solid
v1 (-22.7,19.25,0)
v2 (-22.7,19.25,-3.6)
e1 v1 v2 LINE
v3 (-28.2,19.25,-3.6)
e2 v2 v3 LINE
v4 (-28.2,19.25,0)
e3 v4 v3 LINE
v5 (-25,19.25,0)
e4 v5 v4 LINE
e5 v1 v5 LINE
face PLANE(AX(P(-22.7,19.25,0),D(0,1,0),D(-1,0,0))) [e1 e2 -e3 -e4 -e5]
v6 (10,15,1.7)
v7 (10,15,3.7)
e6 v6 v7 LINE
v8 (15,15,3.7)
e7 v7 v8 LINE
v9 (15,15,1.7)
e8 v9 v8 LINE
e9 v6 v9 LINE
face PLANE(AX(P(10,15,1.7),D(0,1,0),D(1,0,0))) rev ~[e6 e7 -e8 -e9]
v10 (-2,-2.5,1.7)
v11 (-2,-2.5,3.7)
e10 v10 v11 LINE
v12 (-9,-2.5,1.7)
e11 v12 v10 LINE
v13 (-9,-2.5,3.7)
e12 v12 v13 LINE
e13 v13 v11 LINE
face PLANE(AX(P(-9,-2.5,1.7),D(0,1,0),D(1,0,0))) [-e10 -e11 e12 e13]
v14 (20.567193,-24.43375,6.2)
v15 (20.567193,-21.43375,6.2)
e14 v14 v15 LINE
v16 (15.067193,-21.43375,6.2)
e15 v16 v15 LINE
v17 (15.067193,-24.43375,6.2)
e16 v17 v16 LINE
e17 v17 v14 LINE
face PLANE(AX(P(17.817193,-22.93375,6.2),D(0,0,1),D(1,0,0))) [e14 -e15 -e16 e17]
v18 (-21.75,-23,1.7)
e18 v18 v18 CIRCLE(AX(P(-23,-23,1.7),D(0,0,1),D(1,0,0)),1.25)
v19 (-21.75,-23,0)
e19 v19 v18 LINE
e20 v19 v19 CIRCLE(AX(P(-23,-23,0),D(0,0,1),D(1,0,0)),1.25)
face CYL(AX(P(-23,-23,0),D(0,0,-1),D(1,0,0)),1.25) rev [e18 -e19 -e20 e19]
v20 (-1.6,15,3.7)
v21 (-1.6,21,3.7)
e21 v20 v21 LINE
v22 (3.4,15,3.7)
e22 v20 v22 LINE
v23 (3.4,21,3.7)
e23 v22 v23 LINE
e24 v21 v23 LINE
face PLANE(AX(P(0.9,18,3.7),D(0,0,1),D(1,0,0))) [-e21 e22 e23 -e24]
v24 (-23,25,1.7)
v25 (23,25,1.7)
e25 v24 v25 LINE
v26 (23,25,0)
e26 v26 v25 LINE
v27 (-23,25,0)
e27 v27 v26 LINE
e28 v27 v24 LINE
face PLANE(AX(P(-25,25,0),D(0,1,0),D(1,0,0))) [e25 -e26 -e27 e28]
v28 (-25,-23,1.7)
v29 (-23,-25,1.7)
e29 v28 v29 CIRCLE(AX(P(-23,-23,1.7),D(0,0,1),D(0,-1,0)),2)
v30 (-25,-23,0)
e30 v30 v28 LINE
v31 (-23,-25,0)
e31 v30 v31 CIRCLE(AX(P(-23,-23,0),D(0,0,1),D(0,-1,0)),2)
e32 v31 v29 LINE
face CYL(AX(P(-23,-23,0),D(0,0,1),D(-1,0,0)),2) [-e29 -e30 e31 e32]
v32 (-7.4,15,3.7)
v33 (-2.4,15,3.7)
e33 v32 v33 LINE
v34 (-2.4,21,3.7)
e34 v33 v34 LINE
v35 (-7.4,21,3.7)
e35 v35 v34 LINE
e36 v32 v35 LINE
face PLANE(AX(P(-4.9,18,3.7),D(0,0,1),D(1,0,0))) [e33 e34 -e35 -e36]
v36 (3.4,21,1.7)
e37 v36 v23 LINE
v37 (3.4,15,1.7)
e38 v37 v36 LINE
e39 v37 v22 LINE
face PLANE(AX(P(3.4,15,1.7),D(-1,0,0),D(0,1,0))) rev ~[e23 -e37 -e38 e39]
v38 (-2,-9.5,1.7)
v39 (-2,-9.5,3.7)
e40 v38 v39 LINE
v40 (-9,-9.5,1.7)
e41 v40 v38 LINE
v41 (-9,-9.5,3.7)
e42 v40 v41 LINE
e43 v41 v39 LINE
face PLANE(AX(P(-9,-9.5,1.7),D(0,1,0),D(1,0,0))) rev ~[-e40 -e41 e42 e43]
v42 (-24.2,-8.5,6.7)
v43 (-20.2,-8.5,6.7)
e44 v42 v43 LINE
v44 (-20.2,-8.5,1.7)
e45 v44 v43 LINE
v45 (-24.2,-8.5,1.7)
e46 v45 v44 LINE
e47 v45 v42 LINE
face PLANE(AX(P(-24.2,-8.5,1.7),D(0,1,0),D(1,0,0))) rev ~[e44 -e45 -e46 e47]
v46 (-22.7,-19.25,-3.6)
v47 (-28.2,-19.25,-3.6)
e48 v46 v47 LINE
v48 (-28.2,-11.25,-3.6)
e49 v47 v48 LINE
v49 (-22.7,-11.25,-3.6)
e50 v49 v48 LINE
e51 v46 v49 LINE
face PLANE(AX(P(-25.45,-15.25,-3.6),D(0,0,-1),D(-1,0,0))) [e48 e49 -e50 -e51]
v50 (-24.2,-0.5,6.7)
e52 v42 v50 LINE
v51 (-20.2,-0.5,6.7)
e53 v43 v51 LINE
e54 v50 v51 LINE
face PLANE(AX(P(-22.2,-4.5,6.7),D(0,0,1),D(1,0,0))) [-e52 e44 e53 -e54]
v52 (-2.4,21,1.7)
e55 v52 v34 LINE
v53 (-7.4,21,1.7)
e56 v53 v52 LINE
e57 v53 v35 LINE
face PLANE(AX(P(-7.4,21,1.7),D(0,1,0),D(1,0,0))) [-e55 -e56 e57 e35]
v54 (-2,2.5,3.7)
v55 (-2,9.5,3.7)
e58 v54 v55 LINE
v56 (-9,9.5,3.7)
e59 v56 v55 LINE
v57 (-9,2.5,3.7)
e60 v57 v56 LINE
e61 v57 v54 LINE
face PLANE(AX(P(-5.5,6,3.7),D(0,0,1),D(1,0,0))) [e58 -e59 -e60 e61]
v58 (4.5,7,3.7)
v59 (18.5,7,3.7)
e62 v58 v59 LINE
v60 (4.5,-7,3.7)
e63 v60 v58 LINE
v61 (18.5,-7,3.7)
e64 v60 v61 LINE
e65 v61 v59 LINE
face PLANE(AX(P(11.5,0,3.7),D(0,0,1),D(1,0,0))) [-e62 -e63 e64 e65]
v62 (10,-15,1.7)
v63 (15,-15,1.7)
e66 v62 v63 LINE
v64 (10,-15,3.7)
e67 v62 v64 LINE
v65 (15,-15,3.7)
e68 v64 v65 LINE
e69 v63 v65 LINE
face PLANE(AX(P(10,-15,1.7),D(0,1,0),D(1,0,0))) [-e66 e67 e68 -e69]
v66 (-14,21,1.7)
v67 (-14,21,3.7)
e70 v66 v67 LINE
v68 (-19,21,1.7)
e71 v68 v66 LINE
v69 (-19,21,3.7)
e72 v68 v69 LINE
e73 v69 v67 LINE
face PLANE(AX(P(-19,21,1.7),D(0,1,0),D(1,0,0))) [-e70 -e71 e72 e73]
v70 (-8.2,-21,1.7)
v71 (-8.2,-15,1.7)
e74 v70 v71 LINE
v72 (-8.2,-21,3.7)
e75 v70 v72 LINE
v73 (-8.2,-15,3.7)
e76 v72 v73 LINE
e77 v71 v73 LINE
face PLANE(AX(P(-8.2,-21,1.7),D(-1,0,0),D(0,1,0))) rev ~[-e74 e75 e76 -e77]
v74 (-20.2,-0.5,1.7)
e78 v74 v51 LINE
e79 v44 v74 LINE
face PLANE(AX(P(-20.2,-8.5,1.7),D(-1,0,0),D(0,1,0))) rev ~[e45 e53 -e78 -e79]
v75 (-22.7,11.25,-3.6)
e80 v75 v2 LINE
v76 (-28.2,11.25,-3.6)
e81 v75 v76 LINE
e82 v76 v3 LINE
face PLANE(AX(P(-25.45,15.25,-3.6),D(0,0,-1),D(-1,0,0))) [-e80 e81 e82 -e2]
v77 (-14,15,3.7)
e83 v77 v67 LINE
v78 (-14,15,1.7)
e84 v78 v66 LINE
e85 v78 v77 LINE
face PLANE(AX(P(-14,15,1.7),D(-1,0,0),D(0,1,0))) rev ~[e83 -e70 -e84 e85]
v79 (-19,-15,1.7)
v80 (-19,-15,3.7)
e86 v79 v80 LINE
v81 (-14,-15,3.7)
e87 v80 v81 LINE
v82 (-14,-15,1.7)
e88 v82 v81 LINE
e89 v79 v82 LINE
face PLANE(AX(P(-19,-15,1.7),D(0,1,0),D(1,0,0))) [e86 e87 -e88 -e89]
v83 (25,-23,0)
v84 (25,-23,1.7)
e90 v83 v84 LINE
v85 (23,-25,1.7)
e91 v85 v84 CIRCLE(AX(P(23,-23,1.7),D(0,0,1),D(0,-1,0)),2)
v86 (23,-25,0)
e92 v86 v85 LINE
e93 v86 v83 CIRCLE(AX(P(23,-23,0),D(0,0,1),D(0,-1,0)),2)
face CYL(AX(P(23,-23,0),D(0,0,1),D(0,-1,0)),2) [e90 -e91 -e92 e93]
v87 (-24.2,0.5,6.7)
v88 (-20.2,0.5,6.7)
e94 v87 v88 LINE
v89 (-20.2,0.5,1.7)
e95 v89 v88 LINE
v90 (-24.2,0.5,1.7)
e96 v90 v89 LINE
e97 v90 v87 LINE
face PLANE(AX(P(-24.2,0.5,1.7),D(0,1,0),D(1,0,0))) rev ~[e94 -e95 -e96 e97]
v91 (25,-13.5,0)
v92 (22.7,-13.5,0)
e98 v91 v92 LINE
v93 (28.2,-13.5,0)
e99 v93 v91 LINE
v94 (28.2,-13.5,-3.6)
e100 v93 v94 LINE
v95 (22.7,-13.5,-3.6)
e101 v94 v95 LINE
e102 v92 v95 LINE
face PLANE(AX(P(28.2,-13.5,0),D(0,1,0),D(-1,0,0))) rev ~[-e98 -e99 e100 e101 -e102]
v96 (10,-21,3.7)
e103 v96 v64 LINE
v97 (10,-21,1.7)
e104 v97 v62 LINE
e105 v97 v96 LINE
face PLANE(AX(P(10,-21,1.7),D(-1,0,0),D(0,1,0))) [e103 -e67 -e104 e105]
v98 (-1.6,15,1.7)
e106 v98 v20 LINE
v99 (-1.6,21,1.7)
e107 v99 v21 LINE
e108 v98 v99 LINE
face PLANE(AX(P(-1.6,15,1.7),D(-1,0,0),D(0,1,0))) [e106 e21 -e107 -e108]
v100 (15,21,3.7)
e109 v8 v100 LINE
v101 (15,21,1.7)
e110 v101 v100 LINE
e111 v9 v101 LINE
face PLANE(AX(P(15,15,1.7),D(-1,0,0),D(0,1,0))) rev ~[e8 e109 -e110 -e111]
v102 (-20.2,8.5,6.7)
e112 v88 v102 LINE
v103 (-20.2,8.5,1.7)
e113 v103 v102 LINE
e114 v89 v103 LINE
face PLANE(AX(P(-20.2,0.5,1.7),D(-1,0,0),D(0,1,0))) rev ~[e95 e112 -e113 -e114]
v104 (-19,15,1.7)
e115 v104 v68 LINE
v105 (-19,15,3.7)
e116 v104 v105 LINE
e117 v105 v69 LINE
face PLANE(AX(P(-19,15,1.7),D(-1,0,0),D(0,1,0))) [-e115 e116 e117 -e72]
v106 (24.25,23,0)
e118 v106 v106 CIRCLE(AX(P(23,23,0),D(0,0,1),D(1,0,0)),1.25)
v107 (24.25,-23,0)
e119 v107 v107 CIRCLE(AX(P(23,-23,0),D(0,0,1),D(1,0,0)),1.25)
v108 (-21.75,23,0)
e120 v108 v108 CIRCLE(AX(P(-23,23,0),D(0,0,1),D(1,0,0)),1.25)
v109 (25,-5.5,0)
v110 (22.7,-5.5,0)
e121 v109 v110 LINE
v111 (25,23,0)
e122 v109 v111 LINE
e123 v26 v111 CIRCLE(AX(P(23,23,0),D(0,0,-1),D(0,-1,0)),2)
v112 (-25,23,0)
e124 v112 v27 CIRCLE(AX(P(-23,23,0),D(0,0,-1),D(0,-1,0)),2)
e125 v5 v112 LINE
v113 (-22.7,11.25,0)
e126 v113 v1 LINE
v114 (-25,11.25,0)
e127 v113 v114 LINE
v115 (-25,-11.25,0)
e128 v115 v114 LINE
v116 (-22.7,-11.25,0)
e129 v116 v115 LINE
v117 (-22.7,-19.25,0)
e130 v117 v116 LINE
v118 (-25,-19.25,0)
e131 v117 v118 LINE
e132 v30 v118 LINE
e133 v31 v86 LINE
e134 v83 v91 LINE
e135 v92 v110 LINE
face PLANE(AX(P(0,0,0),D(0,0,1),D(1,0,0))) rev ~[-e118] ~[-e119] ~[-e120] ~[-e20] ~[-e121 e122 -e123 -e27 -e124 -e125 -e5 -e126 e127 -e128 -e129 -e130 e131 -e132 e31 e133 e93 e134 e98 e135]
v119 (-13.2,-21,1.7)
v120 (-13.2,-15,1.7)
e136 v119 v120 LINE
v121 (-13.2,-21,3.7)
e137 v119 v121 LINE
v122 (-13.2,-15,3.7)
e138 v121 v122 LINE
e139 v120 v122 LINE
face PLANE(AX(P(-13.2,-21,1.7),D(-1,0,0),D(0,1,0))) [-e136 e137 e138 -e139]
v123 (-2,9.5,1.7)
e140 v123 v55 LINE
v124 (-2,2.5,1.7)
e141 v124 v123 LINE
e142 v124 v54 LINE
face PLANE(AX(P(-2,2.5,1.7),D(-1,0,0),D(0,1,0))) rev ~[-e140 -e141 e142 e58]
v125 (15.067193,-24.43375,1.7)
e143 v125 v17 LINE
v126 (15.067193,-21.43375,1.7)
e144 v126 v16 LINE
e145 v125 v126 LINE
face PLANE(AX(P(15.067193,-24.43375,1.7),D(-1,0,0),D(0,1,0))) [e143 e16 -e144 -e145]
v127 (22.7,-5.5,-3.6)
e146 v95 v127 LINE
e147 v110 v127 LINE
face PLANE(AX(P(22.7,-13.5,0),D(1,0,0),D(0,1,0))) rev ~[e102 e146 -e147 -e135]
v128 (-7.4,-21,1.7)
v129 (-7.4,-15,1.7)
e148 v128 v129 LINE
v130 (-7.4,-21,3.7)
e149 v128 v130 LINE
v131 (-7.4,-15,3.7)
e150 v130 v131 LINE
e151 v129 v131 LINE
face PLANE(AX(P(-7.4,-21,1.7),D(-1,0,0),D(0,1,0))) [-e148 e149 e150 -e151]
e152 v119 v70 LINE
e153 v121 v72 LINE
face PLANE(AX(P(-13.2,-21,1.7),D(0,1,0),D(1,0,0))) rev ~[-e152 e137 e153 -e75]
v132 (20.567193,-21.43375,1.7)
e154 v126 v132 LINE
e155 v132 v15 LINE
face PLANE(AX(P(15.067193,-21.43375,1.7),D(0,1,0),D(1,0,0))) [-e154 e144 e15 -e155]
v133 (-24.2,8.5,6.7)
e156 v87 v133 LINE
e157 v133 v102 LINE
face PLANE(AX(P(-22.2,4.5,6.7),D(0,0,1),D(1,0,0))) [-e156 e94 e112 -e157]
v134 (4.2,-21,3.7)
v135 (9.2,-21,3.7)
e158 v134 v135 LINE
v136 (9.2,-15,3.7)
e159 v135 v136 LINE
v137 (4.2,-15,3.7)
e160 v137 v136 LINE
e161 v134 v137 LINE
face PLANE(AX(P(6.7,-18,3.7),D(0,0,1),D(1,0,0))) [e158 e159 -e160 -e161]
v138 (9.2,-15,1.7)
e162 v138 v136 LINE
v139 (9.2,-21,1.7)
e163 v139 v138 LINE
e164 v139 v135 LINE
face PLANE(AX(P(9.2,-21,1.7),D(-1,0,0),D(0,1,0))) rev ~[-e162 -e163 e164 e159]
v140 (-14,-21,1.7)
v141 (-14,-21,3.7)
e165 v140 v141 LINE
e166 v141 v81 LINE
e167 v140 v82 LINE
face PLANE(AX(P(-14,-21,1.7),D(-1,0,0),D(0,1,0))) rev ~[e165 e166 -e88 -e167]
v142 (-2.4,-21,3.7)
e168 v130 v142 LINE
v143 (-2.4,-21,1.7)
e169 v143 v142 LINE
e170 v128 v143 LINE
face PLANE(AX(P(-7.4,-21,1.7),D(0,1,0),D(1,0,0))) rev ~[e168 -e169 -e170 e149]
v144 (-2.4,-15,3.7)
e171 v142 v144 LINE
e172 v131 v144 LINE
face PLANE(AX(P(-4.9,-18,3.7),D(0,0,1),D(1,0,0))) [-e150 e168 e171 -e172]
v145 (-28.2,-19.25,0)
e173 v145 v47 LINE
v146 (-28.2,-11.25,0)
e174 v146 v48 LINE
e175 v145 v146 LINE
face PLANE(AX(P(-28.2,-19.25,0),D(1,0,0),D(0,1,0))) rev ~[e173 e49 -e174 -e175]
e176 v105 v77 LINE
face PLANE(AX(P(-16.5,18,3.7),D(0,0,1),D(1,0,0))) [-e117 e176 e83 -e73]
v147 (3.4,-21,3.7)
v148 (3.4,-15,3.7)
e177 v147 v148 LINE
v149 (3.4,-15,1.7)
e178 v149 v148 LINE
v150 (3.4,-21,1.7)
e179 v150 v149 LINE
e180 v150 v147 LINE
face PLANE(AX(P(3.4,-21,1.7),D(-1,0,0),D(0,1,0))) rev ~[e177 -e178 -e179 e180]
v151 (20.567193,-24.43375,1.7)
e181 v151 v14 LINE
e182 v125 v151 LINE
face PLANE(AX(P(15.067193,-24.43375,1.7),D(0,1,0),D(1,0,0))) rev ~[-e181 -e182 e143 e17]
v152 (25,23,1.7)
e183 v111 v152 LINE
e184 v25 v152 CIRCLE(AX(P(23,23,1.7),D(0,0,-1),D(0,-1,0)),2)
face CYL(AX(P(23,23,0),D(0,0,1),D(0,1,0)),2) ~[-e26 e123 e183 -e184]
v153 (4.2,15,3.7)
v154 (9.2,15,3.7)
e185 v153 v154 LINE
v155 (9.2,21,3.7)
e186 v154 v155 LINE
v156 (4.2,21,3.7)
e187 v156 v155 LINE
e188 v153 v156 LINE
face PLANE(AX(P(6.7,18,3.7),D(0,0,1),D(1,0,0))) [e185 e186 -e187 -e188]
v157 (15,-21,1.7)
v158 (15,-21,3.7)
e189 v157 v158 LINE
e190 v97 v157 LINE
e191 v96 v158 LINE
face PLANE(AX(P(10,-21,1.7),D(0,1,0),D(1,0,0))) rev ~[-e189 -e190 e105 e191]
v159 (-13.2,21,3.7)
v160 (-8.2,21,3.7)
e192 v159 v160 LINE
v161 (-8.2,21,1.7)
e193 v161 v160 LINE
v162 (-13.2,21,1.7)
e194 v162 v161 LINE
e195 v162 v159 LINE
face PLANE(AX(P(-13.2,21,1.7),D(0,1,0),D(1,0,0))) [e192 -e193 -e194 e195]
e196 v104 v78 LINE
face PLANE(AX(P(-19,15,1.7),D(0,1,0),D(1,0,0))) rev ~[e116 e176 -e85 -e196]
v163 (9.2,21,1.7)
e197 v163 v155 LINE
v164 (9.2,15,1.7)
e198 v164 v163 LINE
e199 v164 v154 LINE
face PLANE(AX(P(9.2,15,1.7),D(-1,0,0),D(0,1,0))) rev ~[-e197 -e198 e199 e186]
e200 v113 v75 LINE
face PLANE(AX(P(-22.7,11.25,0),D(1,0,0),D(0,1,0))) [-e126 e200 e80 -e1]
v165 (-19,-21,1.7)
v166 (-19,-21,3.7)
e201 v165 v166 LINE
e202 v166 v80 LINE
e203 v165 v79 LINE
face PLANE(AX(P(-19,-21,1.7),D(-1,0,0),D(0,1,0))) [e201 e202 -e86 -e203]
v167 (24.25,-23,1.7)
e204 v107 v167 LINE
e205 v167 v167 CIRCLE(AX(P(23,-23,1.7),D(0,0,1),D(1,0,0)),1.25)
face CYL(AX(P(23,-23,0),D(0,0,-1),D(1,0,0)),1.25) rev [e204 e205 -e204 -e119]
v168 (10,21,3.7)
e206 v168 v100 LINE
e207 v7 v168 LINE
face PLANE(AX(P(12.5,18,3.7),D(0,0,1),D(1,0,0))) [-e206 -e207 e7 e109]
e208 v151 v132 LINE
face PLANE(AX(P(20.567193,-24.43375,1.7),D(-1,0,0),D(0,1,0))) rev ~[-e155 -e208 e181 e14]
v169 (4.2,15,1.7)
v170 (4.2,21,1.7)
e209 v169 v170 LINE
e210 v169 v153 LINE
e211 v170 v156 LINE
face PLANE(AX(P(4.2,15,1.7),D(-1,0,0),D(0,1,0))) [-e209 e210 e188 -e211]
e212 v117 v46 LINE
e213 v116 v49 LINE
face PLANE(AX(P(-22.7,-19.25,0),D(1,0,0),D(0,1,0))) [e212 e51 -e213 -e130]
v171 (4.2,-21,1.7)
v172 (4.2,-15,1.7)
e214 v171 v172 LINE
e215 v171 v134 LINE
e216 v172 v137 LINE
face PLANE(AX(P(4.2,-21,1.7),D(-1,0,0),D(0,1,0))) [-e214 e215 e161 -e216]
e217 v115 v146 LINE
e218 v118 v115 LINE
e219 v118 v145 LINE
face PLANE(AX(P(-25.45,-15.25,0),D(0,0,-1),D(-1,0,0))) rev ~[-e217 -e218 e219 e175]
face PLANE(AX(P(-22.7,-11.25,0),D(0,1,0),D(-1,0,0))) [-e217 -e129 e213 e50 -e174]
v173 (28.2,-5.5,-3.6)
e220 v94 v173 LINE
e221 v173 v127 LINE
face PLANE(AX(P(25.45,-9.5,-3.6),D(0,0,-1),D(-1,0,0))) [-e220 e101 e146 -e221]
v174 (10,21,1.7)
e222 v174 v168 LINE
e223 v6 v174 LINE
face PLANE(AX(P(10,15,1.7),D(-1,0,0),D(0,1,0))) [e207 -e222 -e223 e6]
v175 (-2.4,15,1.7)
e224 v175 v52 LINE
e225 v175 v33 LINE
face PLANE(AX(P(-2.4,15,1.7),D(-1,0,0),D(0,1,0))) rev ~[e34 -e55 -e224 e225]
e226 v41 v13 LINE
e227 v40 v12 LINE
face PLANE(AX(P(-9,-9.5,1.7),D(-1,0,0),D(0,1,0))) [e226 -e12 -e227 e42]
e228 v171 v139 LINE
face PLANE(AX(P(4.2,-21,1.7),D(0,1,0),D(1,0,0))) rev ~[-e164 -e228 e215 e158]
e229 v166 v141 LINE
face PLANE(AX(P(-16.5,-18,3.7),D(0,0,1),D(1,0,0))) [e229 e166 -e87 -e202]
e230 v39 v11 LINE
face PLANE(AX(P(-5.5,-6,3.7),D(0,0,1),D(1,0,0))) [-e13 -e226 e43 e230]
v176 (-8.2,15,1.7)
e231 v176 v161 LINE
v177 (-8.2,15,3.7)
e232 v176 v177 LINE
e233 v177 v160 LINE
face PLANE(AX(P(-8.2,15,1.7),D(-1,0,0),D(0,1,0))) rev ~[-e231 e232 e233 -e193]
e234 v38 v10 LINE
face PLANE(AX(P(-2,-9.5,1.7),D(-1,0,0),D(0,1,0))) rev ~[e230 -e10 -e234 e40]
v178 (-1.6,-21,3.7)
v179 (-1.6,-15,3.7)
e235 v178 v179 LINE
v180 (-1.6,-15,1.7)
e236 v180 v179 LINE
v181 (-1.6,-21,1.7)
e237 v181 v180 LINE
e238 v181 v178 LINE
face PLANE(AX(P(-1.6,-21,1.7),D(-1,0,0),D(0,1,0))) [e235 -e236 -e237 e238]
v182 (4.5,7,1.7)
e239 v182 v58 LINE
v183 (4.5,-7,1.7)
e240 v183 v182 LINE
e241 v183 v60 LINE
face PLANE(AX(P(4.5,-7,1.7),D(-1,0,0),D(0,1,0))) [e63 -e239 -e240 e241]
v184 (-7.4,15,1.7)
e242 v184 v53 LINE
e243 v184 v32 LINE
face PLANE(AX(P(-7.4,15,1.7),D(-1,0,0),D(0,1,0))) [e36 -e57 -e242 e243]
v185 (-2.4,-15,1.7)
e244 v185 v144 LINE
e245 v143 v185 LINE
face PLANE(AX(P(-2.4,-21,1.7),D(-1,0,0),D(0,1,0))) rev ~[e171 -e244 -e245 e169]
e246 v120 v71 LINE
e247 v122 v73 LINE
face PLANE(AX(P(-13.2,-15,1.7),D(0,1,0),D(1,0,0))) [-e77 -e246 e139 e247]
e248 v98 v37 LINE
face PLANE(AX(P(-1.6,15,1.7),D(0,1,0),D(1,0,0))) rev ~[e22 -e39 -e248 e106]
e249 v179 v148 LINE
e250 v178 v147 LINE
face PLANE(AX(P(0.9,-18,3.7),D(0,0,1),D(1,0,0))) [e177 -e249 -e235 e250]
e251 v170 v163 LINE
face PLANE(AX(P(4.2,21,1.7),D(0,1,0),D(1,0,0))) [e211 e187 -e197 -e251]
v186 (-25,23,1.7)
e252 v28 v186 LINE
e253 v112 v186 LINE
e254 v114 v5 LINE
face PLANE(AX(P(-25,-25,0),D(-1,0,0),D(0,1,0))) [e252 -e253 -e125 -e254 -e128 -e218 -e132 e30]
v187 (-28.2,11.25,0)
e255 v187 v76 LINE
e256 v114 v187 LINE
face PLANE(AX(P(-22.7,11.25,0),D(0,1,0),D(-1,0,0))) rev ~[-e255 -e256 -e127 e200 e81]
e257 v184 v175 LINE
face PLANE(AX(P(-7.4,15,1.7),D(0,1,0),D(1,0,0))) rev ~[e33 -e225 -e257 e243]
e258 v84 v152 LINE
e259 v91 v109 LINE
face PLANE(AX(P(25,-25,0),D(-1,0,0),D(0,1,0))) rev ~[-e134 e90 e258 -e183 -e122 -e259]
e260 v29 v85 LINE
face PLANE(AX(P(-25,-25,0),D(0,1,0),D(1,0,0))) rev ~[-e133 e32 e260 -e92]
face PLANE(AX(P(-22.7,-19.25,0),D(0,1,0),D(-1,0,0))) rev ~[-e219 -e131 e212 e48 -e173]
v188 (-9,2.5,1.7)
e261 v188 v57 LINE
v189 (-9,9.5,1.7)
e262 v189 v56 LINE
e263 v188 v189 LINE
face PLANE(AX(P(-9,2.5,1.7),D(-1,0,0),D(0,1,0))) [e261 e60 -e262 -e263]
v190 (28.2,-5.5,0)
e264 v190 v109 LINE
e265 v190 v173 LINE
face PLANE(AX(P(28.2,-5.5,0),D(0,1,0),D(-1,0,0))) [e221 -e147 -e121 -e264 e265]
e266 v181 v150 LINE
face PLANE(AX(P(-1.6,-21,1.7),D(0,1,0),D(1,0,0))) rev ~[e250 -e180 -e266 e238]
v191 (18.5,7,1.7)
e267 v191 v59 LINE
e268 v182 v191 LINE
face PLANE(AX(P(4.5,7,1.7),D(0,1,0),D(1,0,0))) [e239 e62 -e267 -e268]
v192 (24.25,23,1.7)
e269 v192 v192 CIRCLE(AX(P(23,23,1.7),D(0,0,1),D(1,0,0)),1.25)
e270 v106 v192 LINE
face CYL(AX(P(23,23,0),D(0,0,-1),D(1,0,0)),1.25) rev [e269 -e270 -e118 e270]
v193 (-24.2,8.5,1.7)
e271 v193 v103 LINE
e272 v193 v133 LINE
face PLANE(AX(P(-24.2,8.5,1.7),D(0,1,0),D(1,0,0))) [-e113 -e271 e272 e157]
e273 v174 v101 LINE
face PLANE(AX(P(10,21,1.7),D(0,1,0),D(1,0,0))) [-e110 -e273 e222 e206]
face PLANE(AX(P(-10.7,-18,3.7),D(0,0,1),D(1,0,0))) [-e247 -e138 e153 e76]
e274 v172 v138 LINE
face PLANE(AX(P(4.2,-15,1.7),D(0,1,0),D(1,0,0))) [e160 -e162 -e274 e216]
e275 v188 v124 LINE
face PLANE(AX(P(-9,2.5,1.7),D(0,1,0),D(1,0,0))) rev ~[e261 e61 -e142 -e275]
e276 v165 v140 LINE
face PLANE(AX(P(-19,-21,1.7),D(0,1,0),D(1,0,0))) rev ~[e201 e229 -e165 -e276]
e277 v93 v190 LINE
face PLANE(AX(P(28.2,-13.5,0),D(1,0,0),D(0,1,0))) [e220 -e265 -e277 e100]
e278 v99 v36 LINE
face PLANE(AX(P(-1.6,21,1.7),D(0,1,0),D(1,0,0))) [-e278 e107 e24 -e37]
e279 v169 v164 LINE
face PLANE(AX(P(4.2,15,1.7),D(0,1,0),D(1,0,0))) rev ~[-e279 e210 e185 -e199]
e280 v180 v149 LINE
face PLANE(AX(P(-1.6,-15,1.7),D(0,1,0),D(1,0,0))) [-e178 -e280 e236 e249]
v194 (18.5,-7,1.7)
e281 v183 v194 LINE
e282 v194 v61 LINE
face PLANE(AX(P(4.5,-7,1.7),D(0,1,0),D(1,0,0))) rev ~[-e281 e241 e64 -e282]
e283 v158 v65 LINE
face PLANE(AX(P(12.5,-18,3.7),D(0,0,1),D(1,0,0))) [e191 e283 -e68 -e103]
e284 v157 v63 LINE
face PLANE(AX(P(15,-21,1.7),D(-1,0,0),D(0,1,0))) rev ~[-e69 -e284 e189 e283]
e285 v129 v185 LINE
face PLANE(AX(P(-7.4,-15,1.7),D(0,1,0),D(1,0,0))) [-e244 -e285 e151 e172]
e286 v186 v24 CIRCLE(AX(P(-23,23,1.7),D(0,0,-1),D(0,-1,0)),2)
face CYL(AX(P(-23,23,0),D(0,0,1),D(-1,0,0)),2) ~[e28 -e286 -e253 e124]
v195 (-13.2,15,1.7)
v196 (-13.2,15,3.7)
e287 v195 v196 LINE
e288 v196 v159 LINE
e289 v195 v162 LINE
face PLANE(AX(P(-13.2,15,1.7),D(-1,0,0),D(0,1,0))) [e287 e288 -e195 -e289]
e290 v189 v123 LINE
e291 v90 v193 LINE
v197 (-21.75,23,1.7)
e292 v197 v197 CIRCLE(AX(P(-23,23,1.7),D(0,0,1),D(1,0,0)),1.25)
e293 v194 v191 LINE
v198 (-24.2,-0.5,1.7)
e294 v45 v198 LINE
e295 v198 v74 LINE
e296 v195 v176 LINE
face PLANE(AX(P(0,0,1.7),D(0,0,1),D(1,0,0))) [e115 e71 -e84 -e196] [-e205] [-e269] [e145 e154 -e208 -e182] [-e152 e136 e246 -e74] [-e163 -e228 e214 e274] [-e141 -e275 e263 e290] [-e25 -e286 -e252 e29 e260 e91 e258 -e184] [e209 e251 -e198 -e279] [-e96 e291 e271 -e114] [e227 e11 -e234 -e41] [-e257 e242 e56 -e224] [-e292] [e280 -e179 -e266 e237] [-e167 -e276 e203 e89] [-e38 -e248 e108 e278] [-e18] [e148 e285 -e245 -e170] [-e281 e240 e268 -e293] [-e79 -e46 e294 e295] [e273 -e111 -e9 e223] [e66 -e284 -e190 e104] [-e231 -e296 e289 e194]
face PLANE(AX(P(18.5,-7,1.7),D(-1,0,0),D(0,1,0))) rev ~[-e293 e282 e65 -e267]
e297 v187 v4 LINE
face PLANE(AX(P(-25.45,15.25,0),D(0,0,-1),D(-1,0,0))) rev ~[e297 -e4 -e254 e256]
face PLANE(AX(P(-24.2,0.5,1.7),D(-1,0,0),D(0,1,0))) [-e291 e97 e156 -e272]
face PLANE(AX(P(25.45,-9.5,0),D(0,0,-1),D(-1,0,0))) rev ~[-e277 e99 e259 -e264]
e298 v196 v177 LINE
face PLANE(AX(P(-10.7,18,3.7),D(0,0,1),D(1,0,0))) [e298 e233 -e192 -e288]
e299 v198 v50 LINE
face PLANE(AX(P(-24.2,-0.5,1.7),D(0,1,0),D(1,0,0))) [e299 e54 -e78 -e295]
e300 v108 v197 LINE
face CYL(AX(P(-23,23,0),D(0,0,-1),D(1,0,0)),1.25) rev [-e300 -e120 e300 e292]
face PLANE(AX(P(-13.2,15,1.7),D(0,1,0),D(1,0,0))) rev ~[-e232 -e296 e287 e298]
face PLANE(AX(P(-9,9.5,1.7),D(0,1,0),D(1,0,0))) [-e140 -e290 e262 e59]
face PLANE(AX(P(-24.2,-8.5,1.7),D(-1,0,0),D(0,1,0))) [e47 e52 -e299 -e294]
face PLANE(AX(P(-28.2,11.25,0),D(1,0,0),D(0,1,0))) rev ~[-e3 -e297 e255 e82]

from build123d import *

# Parameters (mm, degrees)
SKIZZE1_W                       = 50
SKIZZE1_H                       = 50
SKIZZE1_R                       = 1.25
AUFSATZ_LINEAR_AUSTRAGEN1_DEPTH = 1.7
VERRUNDUNG1_R                   = 2
SKIZZE2_W                       = 14
SKIZZE2_H                       = 14
SKIZZE2_W_2                     = 7
SKIZZE2_H_2                     = 7
SKIZZE2_W_3                     = 5
SKIZZE2_H_3                     = 6
AUFSATZ_LINEAR_AUSTRAGEN2_DEPTH = 2
SKIZZE3_W                       = 4
SKIZZE3_H                       = 8
AUFSATZ_LINEAR_AUSTRAGEN3_DEPTH = 5
SKIZZE5_W                       = 5.5
SKIZZE5_H                       = 3
AUFSATZ_LINEAR_AUSTRAGEN5_DEPTH = 4.5
SKIZZE6_W                       = 5.5
SKIZZE6_H                       = 8
AUFSATZ_LINEAR_AUSTRAGEN6_DEPTH = 3.6


with BuildPart() as part:
    # Skizze1 → Aufsatz-Linear austragen1 (new body)
    with BuildSketch(Plane.XY):
        Rectangle(SKIZZE1_W, SKIZZE1_H)
        with Locations((-23, 23)):
            Circle(SKIZZE1_R, mode=Mode.SUBTRACT)
        with Locations((23, 23)):
            Circle(SKIZZE1_R, mode=Mode.SUBTRACT)
        with Locations((23, -23)):
            Circle(SKIZZE1_R, mode=Mode.SUBTRACT)
        with Locations((-23, -23)):
            Circle(SKIZZE1_R, mode=Mode.SUBTRACT)
    extrude(amount=AUFSATZ_LINEAR_AUSTRAGEN1_DEPTH)

    # Verrundung1
    verrundung1_edges = [part.edges().sort_by_distance(p)[0] for p in [
        (25, 25, 0.85),
        (25, -25, 0.85),
        (-25, -25, 0.85),
        (-25, 25, 0.85),
    ]]
    fillet(verrundung1_edges, radius=VERRUNDUNG1_R)

    # Skizze2 → Aufsatz-Linear austragen2 (add)
    with BuildSketch(Plane.XY.offset(1.7)):
        with Locations((11.5, 0)):
            Rectangle(SKIZZE2_W, SKIZZE2_H)
        with Locations((-5.5, 6)):
            Rectangle(SKIZZE2_W_2, SKIZZE2_H_2)
        with Locations((-5.5, -6)):
            Rectangle(SKIZZE2_W_2, SKIZZE2_H_2)
        with Locations((-10.7, 18)):
            Rectangle(SKIZZE2_W_3, SKIZZE2_H_3)
        with Locations((-16.5, 18)):
            Rectangle(SKIZZE2_W_3, SKIZZE2_H_3)
        with Locations((-4.9, 18)):
            Rectangle(SKIZZE2_W_3, SKIZZE2_H_3)
        with Locations((0.9, 18)):
            Rectangle(SKIZZE2_W_3, SKIZZE2_H_3)
        with Locations((6.7, 18)):
            Rectangle(SKIZZE2_W_3, SKIZZE2_H_3)
        with Locations((12.5, 18)):
            Rectangle(SKIZZE2_W_3, SKIZZE2_H_3)
        with Locations((12.5, -18)):
            Rectangle(SKIZZE2_W_3, SKIZZE2_H_3)
        with Locations((6.7, -18)):
            Rectangle(SKIZZE2_W_3, SKIZZE2_H_3)
        with Locations((0.9, -18)):
            Rectangle(SKIZZE2_W_3, SKIZZE2_H_3)
        with Locations((-4.9, -18)):
            Rectangle(SKIZZE2_W_3, SKIZZE2_H_3)
        with Locations((-10.7, -18)):
            Rectangle(SKIZZE2_W_3, SKIZZE2_H_3)
        with Locations((-16.5, -18)):
            Rectangle(SKIZZE2_W_3, SKIZZE2_H_3)
    extrude(amount=AUFSATZ_LINEAR_AUSTRAGEN2_DEPTH)

    # Skizze3 → Aufsatz-Linear austragen3 (add)
    with BuildSketch(Plane.XY.offset(1.7)):
        with Locations((-22.2, -4.5)):
            Rectangle(SKIZZE3_W, SKIZZE3_H)
        with Locations((-22.2, 4.5)):
            Rectangle(SKIZZE3_W, SKIZZE3_H)
    extrude(amount=AUFSATZ_LINEAR_AUSTRAGEN3_DEPTH)

    # Skizze5 → Aufsatz-Linear austragen5 (add)
    with BuildSketch(Plane.XY.offset(1.7)):
        with Locations((17.817192877, -22.933750346)):
            Rectangle(SKIZZE5_W, SKIZZE5_H)
    extrude(amount=AUFSATZ_LINEAR_AUSTRAGEN5_DEPTH)

    # Skizze6 → Aufsatz-Linear austragen6 (add)
    with BuildSketch(Plane(origin=(0, 0, 0), x_dir=(-1, 0, 0), z_dir=(0, 0, -1))):
        with Locations((25.45, 15.25)):
            Rectangle(SKIZZE6_W, SKIZZE6_H)
        with Locations((25.45, -15.25)):
            Rectangle(SKIZZE6_W, SKIZZE6_H)
        with Locations((-25.45, -9.5)):
            Rectangle(SKIZZE6_W, SKIZZE6_H)
    extrude(amount=AUFSATZ_LINEAR_AUSTRAGEN6_DEPTH)


solid = part.part
